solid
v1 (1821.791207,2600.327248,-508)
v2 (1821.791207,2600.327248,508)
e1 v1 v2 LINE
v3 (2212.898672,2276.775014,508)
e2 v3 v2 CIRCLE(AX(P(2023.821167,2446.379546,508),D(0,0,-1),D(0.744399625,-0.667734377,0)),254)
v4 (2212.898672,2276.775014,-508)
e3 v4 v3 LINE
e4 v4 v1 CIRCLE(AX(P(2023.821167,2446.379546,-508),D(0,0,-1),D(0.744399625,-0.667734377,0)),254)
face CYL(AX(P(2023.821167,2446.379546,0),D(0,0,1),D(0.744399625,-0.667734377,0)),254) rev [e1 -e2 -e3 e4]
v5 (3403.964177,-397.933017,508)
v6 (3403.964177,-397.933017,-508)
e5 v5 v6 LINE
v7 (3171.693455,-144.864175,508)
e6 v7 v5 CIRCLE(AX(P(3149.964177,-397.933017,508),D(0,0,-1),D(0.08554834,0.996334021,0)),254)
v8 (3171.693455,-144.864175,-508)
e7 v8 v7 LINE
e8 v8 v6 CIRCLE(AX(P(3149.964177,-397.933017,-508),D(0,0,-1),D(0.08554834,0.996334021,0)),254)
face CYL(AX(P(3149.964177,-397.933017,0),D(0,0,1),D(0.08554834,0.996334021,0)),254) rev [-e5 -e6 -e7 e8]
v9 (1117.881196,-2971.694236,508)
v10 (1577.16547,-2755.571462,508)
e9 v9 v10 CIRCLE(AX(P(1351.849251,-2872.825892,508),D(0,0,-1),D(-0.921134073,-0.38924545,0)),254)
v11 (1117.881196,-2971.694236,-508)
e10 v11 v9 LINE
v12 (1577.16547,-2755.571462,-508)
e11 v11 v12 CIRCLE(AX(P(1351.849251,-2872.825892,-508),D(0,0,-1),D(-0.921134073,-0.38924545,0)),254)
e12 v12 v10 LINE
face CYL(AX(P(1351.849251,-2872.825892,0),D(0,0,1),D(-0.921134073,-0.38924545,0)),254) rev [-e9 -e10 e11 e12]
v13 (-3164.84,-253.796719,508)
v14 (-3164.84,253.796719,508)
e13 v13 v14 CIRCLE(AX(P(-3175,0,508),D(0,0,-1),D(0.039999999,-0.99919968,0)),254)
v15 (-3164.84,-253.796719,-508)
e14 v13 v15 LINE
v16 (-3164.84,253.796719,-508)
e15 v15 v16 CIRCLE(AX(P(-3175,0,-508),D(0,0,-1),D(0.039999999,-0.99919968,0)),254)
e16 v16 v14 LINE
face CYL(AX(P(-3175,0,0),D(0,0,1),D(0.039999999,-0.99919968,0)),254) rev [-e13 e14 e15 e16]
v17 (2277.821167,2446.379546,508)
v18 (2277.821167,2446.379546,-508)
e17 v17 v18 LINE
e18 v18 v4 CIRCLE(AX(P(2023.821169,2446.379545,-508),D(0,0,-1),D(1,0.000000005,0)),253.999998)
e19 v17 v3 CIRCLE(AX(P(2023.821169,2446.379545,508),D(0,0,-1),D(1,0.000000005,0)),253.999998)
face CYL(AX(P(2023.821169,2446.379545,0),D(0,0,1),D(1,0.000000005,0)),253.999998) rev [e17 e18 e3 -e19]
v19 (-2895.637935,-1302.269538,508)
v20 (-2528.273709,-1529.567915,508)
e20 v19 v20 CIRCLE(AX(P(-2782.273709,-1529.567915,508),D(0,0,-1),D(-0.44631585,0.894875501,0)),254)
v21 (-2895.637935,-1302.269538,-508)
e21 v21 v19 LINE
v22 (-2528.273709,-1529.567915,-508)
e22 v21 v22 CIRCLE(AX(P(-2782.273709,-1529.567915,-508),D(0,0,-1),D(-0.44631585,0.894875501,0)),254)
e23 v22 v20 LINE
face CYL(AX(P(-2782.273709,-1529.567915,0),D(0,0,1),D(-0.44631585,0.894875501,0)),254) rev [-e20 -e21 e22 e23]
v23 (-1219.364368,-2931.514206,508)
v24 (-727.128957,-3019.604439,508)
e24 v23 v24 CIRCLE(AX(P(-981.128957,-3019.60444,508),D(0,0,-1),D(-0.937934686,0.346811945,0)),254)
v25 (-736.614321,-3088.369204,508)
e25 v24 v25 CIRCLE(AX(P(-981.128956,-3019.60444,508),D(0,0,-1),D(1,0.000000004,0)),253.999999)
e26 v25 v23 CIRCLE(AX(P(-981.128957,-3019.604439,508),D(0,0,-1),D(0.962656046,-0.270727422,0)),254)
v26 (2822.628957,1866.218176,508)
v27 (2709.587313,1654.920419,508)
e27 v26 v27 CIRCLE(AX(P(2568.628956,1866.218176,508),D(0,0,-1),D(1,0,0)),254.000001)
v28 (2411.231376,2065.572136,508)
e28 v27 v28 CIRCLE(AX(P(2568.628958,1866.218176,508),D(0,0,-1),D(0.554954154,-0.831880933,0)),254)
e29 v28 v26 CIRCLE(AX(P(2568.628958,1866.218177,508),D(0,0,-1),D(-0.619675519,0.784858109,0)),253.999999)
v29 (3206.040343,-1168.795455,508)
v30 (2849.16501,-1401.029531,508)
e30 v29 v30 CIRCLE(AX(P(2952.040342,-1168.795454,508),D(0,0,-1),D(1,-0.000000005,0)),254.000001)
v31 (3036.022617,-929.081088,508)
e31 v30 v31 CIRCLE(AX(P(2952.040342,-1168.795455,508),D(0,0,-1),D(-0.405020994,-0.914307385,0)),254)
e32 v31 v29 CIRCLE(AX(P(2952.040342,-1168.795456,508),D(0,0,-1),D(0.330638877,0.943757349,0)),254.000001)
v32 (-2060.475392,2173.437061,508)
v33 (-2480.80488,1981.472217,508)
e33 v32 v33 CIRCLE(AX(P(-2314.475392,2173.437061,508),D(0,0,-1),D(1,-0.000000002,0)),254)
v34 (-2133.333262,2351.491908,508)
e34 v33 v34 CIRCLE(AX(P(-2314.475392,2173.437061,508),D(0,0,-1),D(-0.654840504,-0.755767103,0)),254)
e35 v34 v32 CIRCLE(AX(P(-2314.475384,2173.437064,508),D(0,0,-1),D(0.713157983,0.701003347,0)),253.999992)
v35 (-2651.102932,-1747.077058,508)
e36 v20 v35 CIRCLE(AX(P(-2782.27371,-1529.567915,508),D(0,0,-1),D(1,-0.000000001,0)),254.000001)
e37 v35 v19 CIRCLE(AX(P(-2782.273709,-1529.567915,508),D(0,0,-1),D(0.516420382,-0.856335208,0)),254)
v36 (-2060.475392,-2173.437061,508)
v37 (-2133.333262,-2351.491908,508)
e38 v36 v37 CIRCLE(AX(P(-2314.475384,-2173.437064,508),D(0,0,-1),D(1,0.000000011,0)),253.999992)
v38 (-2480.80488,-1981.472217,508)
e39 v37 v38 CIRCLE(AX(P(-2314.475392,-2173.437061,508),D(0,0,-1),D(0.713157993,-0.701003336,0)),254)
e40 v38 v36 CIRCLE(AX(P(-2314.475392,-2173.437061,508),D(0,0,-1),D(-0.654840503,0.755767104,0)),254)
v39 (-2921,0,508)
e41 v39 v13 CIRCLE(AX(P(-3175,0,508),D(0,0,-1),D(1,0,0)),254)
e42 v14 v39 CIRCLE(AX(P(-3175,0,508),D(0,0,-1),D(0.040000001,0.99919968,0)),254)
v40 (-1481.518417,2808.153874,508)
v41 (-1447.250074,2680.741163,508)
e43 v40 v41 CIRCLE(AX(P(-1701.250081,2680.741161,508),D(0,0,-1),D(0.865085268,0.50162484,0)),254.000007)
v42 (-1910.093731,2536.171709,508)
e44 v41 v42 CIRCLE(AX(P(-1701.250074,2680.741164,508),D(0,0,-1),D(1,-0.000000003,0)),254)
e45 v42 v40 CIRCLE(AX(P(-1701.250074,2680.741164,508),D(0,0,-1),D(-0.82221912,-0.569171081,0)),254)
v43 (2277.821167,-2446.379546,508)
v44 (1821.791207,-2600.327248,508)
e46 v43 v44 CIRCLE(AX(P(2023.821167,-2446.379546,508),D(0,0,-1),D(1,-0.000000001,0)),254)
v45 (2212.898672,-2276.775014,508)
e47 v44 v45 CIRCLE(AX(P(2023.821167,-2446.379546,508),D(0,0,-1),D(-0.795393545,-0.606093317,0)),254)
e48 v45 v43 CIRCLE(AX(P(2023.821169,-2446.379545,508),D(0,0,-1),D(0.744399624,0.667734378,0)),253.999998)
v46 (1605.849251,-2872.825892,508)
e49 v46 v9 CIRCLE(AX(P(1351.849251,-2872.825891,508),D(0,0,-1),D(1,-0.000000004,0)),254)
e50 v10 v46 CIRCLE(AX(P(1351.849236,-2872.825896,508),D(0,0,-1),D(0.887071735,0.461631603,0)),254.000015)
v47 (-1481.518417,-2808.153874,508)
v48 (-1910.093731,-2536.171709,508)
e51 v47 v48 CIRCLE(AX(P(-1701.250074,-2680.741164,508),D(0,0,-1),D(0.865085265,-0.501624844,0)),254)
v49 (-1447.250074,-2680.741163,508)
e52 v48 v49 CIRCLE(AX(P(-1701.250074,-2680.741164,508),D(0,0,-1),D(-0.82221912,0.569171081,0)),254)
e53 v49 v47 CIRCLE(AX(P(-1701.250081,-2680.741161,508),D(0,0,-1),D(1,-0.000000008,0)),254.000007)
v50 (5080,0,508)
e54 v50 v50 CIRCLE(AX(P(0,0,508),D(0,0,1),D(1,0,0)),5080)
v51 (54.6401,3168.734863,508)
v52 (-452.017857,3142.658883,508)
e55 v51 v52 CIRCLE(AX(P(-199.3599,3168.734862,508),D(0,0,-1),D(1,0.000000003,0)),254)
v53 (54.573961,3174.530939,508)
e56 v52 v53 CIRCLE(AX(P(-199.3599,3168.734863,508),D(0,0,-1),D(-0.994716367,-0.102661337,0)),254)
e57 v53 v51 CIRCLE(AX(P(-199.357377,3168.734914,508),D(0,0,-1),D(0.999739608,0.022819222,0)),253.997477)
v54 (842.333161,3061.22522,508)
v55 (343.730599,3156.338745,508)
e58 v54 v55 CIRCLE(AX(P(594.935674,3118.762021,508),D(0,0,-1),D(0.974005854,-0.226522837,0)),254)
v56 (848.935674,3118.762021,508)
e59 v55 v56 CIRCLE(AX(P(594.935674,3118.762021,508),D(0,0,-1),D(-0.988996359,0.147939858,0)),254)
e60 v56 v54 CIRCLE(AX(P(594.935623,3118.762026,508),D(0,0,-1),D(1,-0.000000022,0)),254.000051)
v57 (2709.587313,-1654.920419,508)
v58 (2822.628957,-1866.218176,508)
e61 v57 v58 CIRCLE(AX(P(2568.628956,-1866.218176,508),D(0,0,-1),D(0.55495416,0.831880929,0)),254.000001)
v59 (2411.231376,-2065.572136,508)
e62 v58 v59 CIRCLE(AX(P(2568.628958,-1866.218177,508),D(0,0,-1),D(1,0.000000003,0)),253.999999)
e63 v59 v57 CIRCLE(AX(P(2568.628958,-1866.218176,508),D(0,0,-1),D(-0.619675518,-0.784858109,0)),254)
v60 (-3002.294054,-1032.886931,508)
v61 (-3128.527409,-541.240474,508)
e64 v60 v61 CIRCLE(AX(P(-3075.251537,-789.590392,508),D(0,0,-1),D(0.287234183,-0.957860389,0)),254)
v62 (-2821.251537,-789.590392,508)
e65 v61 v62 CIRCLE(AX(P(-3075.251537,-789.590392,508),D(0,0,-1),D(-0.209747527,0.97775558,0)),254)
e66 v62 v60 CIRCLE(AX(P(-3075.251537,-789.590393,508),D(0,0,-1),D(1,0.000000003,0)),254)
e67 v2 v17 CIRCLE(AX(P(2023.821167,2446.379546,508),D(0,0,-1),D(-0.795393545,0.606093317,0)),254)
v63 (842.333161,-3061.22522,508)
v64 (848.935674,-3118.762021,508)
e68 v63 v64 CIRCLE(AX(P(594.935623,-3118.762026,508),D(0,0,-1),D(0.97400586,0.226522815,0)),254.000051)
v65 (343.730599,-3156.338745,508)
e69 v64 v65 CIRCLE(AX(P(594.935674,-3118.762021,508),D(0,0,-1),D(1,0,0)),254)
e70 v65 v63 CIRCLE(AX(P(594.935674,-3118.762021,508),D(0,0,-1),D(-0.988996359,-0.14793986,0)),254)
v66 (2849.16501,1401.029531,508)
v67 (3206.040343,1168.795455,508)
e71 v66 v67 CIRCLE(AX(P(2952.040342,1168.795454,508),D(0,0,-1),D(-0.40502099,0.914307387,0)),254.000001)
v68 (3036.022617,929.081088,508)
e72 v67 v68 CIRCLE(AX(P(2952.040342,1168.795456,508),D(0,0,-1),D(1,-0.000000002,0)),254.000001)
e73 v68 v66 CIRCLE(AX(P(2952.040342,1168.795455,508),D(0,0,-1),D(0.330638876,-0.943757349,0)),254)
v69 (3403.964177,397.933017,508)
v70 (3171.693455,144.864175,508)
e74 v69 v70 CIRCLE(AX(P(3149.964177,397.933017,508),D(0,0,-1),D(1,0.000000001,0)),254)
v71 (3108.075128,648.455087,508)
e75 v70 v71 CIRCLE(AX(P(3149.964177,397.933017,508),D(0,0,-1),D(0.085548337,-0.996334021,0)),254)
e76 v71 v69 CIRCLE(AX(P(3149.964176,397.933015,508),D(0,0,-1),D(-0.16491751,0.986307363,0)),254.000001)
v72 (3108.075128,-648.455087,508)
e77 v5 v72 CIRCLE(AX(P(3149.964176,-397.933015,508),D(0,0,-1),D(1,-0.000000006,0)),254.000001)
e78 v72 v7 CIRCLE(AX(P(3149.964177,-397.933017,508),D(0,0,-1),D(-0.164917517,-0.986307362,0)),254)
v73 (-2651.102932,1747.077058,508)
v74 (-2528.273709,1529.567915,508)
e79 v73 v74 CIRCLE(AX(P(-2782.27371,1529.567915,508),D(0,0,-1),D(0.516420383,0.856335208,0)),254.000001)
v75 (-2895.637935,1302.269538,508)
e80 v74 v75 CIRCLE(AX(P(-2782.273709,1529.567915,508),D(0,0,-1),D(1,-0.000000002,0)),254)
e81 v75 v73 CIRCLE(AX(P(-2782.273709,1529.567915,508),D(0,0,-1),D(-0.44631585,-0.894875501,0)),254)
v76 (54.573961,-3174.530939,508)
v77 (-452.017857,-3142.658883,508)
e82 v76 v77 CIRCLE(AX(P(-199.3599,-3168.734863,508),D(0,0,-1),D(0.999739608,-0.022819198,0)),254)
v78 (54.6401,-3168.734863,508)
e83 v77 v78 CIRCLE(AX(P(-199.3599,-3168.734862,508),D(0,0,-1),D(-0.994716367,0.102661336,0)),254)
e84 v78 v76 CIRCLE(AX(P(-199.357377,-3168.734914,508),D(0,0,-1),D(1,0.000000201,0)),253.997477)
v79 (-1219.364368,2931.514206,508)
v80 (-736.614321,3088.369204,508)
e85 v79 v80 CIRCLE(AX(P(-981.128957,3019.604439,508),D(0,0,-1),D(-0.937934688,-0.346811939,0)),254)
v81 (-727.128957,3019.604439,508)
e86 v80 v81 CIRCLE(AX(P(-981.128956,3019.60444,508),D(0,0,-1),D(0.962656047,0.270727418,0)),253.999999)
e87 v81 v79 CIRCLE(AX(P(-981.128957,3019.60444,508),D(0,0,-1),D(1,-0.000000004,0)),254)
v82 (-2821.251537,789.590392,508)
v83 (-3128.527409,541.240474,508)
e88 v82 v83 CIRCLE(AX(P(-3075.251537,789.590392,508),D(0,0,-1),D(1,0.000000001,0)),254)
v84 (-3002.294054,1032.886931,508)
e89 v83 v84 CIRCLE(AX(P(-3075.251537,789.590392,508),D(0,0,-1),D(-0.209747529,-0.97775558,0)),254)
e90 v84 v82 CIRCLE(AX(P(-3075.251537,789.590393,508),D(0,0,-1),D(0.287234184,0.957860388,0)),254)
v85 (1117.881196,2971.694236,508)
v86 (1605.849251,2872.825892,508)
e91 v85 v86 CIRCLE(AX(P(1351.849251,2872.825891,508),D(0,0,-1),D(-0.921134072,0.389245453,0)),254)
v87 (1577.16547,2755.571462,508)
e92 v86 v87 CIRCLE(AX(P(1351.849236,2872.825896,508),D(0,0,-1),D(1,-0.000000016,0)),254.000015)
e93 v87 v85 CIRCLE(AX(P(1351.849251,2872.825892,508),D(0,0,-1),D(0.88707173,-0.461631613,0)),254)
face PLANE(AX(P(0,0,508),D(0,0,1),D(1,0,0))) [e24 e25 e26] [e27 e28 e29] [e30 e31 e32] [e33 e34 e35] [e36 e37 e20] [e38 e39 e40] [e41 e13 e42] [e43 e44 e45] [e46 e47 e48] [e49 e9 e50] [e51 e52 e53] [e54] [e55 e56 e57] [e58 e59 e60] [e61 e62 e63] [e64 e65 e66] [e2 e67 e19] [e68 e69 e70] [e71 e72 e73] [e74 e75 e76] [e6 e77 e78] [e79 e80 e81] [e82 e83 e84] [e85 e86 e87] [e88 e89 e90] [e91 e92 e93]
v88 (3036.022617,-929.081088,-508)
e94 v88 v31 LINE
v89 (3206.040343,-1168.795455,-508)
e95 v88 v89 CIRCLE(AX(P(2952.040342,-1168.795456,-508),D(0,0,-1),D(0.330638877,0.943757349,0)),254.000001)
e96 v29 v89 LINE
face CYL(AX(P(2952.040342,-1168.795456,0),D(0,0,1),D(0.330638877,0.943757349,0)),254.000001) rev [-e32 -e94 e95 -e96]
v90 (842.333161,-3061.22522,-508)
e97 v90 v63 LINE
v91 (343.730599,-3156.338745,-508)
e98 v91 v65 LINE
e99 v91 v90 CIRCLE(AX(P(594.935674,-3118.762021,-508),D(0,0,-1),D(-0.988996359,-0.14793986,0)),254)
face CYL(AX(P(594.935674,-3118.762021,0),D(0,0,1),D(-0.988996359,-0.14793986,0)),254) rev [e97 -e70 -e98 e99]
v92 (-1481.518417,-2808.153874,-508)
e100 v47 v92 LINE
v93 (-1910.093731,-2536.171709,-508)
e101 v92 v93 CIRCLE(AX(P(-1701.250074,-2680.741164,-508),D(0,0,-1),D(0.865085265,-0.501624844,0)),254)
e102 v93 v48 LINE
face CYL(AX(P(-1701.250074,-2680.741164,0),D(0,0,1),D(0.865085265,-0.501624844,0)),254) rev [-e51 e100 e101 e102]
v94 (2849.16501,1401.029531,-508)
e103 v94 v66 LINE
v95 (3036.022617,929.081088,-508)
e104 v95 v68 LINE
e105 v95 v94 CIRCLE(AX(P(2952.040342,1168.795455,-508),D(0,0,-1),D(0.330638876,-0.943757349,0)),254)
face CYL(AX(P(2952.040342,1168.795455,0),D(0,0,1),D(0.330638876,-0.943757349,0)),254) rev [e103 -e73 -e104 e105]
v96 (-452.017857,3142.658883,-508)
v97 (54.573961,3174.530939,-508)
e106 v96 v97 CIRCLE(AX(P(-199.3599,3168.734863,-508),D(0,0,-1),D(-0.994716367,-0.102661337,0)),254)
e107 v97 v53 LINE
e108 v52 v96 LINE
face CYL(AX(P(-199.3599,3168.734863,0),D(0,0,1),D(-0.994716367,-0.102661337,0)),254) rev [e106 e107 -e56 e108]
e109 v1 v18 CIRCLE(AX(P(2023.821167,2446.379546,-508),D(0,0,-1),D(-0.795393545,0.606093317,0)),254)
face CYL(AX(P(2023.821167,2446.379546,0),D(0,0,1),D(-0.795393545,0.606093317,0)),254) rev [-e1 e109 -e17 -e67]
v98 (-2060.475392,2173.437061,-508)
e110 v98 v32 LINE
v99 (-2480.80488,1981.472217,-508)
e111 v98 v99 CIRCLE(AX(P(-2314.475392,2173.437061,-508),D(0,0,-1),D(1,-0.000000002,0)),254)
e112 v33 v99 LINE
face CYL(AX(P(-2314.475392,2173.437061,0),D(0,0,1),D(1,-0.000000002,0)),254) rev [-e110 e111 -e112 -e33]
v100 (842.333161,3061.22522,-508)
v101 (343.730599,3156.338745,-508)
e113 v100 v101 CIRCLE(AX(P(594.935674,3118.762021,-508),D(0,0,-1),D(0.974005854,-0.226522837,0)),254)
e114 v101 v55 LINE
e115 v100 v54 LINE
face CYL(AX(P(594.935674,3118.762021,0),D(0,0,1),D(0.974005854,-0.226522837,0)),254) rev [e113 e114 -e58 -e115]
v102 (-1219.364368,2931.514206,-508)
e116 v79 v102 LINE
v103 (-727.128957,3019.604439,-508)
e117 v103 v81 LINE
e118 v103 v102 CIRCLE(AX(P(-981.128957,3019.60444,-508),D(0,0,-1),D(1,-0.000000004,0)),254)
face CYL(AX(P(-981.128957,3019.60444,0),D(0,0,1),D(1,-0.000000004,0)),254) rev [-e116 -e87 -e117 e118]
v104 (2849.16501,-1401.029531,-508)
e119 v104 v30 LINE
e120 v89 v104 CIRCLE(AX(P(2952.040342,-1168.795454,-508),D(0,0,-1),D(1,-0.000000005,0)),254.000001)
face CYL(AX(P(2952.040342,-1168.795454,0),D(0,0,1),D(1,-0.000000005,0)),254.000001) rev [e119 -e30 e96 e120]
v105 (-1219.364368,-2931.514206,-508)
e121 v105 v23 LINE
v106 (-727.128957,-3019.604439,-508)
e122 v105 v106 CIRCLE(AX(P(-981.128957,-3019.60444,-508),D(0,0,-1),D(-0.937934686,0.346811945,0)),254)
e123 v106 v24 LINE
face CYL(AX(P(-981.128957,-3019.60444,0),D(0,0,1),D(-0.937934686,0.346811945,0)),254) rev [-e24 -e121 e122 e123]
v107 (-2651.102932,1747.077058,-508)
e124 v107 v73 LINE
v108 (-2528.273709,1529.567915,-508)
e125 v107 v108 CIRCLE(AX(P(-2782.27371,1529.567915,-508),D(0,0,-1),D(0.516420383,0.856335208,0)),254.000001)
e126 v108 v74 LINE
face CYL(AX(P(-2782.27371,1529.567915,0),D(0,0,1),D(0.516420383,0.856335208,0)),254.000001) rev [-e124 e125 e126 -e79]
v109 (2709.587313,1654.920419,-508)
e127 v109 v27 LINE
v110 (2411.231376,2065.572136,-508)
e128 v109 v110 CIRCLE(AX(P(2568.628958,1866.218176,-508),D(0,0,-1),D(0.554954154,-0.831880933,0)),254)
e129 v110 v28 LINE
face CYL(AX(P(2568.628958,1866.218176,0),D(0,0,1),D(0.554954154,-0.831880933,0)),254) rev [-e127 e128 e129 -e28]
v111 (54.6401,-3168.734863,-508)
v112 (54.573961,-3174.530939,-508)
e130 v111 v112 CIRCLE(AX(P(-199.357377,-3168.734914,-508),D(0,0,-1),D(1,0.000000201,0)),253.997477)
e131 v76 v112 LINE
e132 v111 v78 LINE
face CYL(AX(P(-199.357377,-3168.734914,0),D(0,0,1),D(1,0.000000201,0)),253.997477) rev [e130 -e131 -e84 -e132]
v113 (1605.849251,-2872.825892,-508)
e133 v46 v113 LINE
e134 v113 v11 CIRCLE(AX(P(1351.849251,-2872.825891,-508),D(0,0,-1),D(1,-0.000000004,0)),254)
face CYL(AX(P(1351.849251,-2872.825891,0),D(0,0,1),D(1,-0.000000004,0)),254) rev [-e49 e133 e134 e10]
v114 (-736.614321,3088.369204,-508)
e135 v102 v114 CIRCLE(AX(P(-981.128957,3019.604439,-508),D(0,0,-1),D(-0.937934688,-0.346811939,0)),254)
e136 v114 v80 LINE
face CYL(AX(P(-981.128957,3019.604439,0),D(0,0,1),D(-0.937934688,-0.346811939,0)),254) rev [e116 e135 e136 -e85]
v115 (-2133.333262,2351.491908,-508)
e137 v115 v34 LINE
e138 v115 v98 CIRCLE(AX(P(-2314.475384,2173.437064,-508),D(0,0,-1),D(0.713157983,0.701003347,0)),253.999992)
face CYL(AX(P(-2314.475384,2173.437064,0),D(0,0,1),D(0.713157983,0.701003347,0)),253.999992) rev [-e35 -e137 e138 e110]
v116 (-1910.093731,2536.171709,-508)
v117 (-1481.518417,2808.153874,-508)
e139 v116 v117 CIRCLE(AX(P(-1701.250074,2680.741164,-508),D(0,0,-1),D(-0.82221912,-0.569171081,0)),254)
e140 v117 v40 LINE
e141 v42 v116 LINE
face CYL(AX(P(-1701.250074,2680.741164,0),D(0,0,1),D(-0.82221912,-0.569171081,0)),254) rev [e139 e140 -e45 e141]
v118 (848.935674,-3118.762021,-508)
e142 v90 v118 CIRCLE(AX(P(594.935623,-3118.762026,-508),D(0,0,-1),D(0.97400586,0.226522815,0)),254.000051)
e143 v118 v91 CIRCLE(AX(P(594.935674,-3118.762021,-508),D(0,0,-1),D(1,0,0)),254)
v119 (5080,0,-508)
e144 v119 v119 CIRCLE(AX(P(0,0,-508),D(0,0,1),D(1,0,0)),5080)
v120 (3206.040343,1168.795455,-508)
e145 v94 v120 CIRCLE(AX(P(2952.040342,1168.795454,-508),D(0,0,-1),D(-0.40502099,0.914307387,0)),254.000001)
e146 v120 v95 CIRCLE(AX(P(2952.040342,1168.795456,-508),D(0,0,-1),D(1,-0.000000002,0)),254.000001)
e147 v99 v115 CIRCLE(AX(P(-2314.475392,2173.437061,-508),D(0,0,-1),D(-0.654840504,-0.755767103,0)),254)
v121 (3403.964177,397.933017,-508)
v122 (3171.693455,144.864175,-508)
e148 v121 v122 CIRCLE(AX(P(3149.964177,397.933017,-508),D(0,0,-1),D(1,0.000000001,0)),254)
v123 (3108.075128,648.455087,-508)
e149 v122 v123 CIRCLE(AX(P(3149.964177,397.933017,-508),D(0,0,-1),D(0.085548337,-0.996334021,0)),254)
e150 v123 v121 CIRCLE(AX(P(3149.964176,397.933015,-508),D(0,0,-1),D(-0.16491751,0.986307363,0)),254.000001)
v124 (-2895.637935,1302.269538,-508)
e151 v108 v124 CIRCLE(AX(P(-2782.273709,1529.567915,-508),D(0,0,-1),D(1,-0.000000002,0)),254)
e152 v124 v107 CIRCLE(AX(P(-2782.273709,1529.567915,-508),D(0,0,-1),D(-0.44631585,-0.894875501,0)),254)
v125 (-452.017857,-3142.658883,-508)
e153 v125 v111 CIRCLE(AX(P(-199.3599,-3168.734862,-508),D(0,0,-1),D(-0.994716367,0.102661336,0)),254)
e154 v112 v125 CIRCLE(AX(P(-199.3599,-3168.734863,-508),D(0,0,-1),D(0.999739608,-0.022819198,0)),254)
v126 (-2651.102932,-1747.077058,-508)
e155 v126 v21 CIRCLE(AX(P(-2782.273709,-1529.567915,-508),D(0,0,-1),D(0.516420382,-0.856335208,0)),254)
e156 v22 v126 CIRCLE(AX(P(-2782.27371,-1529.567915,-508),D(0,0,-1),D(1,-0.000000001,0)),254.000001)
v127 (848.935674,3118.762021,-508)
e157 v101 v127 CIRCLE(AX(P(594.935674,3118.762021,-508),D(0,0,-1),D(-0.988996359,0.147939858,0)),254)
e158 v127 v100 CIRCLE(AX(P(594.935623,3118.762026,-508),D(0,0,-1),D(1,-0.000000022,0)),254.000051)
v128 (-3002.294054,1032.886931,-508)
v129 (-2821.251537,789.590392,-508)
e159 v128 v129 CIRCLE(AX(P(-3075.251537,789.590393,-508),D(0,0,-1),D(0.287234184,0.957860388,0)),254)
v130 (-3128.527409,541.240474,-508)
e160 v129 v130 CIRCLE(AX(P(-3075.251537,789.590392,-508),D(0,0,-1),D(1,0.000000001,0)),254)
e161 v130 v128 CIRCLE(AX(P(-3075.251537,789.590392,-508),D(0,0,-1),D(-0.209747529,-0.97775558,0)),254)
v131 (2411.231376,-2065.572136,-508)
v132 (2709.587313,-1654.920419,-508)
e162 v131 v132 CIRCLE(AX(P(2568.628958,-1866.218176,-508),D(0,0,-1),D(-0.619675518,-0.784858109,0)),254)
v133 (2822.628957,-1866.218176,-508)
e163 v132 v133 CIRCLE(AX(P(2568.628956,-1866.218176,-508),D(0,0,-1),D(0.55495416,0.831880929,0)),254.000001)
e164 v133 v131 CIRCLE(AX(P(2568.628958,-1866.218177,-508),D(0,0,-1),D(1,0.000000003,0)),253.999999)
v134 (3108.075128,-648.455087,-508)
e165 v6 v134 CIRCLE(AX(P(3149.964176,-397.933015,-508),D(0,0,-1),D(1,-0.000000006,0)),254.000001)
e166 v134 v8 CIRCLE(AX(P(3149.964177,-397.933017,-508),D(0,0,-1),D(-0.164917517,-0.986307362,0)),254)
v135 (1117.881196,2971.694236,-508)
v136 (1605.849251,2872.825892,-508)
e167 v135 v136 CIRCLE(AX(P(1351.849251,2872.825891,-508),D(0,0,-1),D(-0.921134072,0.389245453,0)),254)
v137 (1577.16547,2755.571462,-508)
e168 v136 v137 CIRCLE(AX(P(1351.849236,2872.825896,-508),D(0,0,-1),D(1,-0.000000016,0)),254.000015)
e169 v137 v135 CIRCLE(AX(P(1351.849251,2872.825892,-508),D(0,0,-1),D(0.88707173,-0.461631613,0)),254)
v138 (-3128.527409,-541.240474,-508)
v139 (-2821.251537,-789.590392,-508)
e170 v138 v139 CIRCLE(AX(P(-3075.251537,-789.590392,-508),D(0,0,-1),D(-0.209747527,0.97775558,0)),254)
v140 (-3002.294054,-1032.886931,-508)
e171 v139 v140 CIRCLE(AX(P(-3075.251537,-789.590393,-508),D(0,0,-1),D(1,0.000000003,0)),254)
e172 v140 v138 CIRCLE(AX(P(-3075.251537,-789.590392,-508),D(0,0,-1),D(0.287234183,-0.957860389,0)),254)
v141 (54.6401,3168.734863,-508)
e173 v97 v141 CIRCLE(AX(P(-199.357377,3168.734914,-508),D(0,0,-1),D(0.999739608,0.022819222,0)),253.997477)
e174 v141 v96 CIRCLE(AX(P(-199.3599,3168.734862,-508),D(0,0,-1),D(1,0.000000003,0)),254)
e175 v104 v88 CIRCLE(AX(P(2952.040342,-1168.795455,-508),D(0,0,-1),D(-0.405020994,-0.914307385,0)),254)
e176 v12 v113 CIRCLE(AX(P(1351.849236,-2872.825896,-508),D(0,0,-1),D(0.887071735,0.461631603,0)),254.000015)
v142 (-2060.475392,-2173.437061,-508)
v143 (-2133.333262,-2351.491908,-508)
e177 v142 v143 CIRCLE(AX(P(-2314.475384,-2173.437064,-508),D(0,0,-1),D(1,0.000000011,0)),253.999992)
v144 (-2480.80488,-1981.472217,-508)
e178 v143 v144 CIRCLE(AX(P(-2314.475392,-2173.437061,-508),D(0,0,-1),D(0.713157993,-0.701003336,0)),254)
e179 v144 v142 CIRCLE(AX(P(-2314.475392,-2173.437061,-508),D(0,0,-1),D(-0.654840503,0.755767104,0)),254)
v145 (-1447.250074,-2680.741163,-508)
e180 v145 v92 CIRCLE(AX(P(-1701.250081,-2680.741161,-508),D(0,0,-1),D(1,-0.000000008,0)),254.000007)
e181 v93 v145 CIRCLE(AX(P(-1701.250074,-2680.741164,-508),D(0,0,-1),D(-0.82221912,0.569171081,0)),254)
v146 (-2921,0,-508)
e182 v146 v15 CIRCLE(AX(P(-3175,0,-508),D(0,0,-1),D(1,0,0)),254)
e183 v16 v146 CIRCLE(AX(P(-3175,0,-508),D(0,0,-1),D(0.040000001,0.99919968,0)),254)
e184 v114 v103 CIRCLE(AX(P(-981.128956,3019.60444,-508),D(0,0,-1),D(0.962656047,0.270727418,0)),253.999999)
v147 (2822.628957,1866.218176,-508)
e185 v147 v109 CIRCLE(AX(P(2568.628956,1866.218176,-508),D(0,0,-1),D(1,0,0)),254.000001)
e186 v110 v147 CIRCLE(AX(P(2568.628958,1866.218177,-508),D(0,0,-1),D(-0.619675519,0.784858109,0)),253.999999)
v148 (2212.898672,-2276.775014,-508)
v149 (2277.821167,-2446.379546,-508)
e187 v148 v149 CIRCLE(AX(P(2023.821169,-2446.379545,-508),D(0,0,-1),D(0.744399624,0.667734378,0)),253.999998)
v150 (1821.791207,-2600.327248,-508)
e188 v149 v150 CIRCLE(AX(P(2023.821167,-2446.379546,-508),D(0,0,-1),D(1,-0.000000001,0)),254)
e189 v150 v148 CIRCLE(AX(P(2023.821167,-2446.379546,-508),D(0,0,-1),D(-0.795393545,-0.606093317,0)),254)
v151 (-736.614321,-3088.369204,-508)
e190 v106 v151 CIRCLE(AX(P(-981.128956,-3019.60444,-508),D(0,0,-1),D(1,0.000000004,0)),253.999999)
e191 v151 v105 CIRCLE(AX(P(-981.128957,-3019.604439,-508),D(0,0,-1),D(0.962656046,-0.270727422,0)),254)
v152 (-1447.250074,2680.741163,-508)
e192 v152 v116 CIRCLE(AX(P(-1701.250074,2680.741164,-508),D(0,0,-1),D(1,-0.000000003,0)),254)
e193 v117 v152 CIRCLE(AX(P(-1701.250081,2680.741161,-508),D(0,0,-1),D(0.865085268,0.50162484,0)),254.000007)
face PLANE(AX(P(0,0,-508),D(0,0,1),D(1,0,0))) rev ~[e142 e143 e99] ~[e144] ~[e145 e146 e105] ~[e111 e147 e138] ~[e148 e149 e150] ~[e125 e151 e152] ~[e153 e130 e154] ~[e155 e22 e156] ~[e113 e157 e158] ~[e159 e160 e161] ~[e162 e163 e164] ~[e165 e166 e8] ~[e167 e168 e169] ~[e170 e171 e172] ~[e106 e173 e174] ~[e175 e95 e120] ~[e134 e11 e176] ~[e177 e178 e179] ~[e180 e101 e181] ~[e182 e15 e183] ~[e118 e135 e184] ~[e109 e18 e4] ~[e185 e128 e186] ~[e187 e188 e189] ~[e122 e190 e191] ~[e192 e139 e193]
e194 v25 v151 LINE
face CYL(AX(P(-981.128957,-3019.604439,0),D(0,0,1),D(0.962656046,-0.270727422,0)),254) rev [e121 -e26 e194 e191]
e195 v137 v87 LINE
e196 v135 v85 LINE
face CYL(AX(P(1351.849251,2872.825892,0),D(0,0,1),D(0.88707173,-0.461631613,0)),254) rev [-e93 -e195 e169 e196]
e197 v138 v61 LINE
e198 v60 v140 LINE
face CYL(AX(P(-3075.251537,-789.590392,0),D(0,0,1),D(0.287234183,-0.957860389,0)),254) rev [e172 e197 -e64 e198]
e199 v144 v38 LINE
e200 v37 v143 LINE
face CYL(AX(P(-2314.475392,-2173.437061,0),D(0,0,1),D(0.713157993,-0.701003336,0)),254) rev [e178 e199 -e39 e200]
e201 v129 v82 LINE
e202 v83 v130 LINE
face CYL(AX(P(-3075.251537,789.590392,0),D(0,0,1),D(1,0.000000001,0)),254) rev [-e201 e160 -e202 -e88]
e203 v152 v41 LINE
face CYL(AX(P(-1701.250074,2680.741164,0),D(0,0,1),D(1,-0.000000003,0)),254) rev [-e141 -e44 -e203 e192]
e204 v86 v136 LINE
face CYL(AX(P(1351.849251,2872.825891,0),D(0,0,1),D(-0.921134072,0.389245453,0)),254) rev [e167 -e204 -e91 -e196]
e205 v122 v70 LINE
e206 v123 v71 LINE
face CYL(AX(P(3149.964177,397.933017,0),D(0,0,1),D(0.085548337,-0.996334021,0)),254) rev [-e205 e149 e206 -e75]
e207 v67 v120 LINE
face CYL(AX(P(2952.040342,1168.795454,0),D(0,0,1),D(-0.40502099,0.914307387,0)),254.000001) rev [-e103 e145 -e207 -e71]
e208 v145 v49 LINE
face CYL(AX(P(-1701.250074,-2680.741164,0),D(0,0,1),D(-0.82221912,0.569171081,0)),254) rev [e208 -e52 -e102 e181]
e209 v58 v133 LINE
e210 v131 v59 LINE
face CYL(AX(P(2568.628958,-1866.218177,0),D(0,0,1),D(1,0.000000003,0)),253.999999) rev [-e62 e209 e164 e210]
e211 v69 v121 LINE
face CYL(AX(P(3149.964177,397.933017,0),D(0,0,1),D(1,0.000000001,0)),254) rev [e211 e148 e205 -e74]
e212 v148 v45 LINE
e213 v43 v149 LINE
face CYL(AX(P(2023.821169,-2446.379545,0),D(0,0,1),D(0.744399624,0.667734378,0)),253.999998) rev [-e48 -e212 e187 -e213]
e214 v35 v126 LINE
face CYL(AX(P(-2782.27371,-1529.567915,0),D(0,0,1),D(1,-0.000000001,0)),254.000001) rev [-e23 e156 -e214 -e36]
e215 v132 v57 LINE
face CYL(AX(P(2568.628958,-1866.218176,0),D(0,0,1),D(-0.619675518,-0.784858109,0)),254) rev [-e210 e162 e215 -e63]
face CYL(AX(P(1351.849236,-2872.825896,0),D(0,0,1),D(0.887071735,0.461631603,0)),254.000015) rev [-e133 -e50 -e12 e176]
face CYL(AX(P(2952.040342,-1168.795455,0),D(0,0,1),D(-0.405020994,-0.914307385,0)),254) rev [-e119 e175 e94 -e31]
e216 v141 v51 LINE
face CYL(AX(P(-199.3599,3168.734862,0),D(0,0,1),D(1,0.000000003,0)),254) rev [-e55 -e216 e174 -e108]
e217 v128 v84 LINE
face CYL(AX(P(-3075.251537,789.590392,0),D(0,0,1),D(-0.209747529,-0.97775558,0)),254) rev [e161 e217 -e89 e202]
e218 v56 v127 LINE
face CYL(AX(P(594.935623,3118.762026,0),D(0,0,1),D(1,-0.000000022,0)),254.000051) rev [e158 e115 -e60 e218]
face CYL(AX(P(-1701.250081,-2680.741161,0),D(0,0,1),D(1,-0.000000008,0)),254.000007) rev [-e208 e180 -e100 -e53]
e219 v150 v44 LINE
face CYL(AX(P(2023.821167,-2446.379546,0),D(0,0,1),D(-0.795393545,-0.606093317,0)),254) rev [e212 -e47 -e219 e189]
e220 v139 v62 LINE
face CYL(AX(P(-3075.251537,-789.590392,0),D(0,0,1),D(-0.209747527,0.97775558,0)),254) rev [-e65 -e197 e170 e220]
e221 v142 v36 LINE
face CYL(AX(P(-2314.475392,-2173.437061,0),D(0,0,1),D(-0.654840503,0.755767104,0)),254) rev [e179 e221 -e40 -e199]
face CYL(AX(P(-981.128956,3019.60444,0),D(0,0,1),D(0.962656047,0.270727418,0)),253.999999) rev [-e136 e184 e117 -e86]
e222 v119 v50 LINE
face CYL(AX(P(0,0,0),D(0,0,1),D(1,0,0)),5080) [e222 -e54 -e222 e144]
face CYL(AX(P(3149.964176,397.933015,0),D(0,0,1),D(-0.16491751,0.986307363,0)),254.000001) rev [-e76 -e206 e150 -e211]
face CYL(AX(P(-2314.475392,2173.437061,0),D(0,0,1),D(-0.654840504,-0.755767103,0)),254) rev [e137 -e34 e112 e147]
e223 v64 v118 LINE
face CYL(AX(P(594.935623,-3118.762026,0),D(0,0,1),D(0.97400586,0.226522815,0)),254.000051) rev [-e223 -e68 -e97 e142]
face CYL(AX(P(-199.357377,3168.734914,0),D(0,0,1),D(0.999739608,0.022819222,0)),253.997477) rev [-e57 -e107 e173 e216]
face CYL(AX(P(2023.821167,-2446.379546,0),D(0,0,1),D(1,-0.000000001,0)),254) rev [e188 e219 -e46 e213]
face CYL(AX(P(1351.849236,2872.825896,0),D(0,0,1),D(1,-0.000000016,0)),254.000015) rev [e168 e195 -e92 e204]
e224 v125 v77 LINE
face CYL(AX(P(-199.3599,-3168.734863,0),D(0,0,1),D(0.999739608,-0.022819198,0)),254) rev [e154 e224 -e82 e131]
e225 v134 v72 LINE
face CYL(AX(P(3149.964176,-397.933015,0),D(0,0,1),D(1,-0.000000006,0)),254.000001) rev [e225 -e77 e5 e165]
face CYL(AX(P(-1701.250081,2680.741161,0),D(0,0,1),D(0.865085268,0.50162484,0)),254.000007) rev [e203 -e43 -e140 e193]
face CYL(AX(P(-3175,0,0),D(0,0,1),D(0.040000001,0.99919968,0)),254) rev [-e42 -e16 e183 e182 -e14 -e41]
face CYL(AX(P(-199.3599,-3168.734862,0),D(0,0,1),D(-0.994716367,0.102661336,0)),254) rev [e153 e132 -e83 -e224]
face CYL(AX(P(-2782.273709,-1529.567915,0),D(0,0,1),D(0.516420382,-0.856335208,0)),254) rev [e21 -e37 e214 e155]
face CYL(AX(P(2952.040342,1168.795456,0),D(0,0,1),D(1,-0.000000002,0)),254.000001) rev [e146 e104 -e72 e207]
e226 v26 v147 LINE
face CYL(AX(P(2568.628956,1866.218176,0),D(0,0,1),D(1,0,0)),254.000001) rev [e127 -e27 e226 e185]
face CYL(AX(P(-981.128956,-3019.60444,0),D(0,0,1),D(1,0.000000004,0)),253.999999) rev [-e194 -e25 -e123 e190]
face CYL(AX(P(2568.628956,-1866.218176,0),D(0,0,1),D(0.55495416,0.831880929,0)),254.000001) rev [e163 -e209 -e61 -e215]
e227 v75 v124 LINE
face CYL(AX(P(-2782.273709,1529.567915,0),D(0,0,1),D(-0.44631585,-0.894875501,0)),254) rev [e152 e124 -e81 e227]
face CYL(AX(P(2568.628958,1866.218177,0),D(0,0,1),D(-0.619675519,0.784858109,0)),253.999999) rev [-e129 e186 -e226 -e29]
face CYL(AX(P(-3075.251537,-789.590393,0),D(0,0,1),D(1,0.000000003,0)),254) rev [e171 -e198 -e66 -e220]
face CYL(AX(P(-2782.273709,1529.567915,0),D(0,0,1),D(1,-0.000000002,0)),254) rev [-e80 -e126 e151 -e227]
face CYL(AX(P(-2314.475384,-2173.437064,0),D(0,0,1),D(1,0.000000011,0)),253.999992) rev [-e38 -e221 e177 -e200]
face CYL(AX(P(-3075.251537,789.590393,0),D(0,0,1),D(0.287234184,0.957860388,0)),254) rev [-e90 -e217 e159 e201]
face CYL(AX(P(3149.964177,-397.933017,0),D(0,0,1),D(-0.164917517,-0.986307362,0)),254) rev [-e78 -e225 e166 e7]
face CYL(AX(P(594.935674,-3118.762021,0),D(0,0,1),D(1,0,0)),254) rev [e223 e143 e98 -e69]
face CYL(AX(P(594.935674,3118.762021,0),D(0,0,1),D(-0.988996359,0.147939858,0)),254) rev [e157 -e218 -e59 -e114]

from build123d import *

# Parameters (mm, degrees)
F0_R     = 5080
F1_DEPTH = 508


with BuildPart() as f1:
    # F0 (on Top) → F1 (new body, symmetric)
    with BuildSketch(Plane.XY):
        Circle(F0_R)
        with BuildLine():
            ThreePointArc((3171.693455, 144.864175), (3174.173256, 72.450953), (3175, 0))
            ThreePointArc((3175, 0), (3174.173256, -72.450953), (3171.693455, -144.864175))
            ThreePointArc((3171.693455, -144.864175), (3337.094127, -226.182087), (3403.964177, -397.933017))
            ThreePointArc((3403.964177, -397.933017), (3314.092452, -591.78324), (3108.075128, -648.455087))
            ThreePointArc((3108.075128, -648.455087), (3075.251537, -789.590392), (3036.022617, -929.081088))
            ThreePointArc((3036.022617, -929.081088), (3159.220817, -1021.852435), (3206.040343, -1168.795455))
            ThreePointArc((3206.040343, -1168.795455), (3090.578542, -1381.687839), (2849.16501, -1401.029531))
            ThreePointArc((2849.16501, -1401.029531), (2782.273709, -1529.567915), (2709.587313, -1654.920419))
            ThreePointArc((2709.587313, -1654.920419), (2792.592595, -1746.400444), (2822.628957, -1866.218176))
            ThreePointArc((2822.628957, -1866.218176), (2679.392251, -2094.795281), (2411.231376, -2065.572136))
            ThreePointArc((2411.231376, -2065.572136), (2314.475392, -2173.437061), (2212.898672, -2276.775014))
            ThreePointArc((2212.898672, -2276.775014), (2261.035929, -2355.5767), (2277.821167, -2446.379546))
            ThreePointArc((2277.821167, -2446.379546), (2105.062752, -2687.036573), (1821.791207, -2600.327248))
            ThreePointArc((1821.791207, -2600.327248), (1701.250074, -2680.741163), (1577.16547, -2755.571462))
            ThreePointArc((1577.16547, -2755.571462), (1598.574117, -2812.469946), (1605.849251, -2872.825892))
            ThreePointArc((1605.849251, -2872.825892), (1402.287897, -3121.767537), (1117.881196, -2971.694236))
            ThreePointArc((1117.881196, -2971.694236), (981.128957, -3019.604439), (842.333161, -3061.22522))
            ThreePointArc((842.333161, -3061.22522), (847.279647, -3089.804826), (848.935674, -3118.762021))
            ThreePointArc((848.935674, -3118.762021), (613.775935, -3372.062326), (343.730599, -3156.338745))
            ThreePointArc((343.730599, -3156.338745), (199.3599, -3168.734863), (54.573961, -3174.530939))
            ThreePointArc((54.573961, -3174.530939), (-215.308691, -3422.233652), (-452.017857, -3142.658883))
            ThreePointArc((-452.017857, -3142.658883), (-594.935674, -3118.762021), (-736.614321, -3088.369204))
            ThreePointArc((-736.614321, -3088.369204), (-1059.619274, -3261.172794), (-1219.364368, -2931.514206))
            ThreePointArc((-1219.364368, -2931.514206), (-1351.849251, -2872.825892), (-1481.518417, -2808.153874))
            ThreePointArc((-1481.518417, -2808.153874), (-1837.35008, -2895.200457), (-1910.093731, -2536.171709))
            ThreePointArc((-1910.093731, -2536.171709), (-2023.821167, -2446.379546), (-2133.333262, -2351.491908))
            ThreePointArc((-2133.333262, -2351.491908), (-2499.633423, -2347.312026), (-2480.80488, -1981.472217))
            ThreePointArc((-2480.80488, -1981.472217), (-2568.628957, -1866.218176), (-2651.102932, -1747.077058))
            ThreePointArc((-2651.102932, -1747.077058), (-3004.855606, -1651.933348), (-2895.637935, -1302.269538))
            ThreePointArc((-2895.637935, -1302.269538), (-2952.040343, -1168.795455), (-3002.294054, -1032.886931))
            ThreePointArc((-3002.294054, -1032.886931), (-3321.27166, -852.757623), (-3128.527409, -541.240474))
            ThreePointArc((-3128.527409, -541.240474), (-3149.964177, -397.933017), (-3164.84, -253.796719))
            ThreePointArc((-3164.84, -253.796719), (-3429, 0), (-3164.84, 253.796719))
            ThreePointArc((-3164.84, 253.796719), (-3149.964177, 397.933017), (-3128.527409, 541.240474))
            ThreePointArc((-3128.527409, 541.240474), (-3321.27166, 852.757623), (-3002.294054, 1032.886931))
            ThreePointArc((-3002.294054, 1032.886931), (-2952.040343, 1168.795455), (-2895.637935, 1302.269538))
            ThreePointArc((-2895.637935, 1302.269538), (-3004.855606, 1651.933348), (-2651.102932, 1747.077058))
            ThreePointArc((-2651.102932, 1747.077058), (-2568.628957, 1866.218176), (-2480.80488, 1981.472217))
            ThreePointArc((-2480.80488, 1981.472217), (-2499.633423, 2347.312026), (-2133.333262, 2351.491908))
            ThreePointArc((-2133.333262, 2351.491908), (-2023.821167, 2446.379546), (-1910.093731, 2536.171709))
            ThreePointArc((-1910.093731, 2536.171709), (-1837.35008, 2895.200457), (-1481.518417, 2808.153874))
            ThreePointArc((-1481.518417, 2808.153874), (-1351.849251, 2872.825892), (-1219.364368, 2931.514206))
            ThreePointArc((-1219.364368, 2931.514206), (-1059.619274, 3261.172794), (-736.614321, 3088.369204))
            ThreePointArc((-736.614321, 3088.369204), (-594.935674, 3118.762021), (-452.017857, 3142.658883))
            ThreePointArc((-452.017857, 3142.658883), (-215.308691, 3422.233652), (54.573961, 3174.530939))
            ThreePointArc((54.573961, 3174.530939), (199.3599, 3168.734863), (343.730599, 3156.338745))
            ThreePointArc((343.730599, 3156.338745), (613.775935, 3372.062326), (848.935674, 3118.762021))
            ThreePointArc((848.935674, 3118.762021), (847.279647, 3089.804826), (842.333161, 3061.22522))
            ThreePointArc((842.333161, 3061.22522), (981.128957, 3019.604439), (1117.881196, 2971.694236))
            ThreePointArc((1117.881196, 2971.694236), (1402.287897, 3121.767537), (1605.849251, 2872.825892))
            ThreePointArc((1605.849251, 2872.825892), (1598.574117, 2812.469946), (1577.16547, 2755.571462))
            ThreePointArc((1577.16547, 2755.571462), (1701.250074, 2680.741163), (1821.791207, 2600.327248))
            ThreePointArc((1821.791207, 2600.327248), (2105.062752, 2687.036573), (2277.821167, 2446.379546))
            ThreePointArc((2277.821167, 2446.379546), (2261.035929, 2355.5767), (2212.898672, 2276.775014))
            ThreePointArc((2212.898672, 2276.775014), (2314.475392, 2173.437061), (2411.231376, 2065.572136))
            ThreePointArc((2411.231376, 2065.572136), (2679.392251, 2094.795281), (2822.628957, 1866.218176))
            ThreePointArc((2822.628957, 1866.218176), (2792.592595, 1746.400444), (2709.587313, 1654.920419))
            ThreePointArc((2709.587313, 1654.920419), (2782.273709, 1529.567915), (2849.16501, 1401.029531))
            ThreePointArc((2849.16501, 1401.029531), (3090.578542, 1381.687839), (3206.040343, 1168.795455))
            ThreePointArc((3206.040343, 1168.795455), (3159.220817, 1021.852435), (3036.022617, 929.081088))
            ThreePointArc((3036.022617, 929.081088), (3075.251537, 789.590392), (3108.075128, 648.455087))
            ThreePointArc((3108.075128, 648.455087), (3314.092452, 591.78324), (3403.964177, 397.933017))
            ThreePointArc((3403.964177, 397.933017), (3337.094127, 226.182087), (3171.693455, 144.864175))
        make_face(mode=Mode.SUBTRACT)
        with BuildLine():
            ThreePointArc((3171.693455, -144.864175), (3174.173256, -72.450953), (3175, 0))
            ThreePointArc((3175, 0), (3174.173256, 72.450953), (3171.693455, 144.864175))
            ThreePointArc((3171.693455, 144.864175), (2897.967043, 366.098375), (3108.075128, 648.455087))
            ThreePointArc((3108.075128, 648.455087), (3075.251537, 789.590392), (3036.022617, 929.081088))
            ThreePointArc((3036.022617, 929.081088), (2715.877115, 1075.291818), (2849.16501, 1401.029531))
            ThreePointArc((2849.16501, 1401.029531), (2782.273709, 1529.567915), (2709.587313, 1654.920419))
            ThreePointArc((2709.587313, 1654.920419), (2363.138641, 1716.920722), (2411.231376, 2065.572136))
            ThreePointArc((2411.231376, 2065.572136), (2314.475392, 2173.437061), (2212.898672, 2276.775014))
            ThreePointArc((2212.898672, 2276.775014), (1861.915474, 2250.669182), (1821.791207, 2600.327248))
            ThreePointArc((1821.791207, 2600.327248), (1701.250074, 2680.741163), (1577.16547, 2755.571462))
            ThreePointArc((1577.16547, 2755.571462), (1243.701311, 2642.99982), (1117.881196, 2971.694236))
            ThreePointArc((1117.881196, 2971.694236), (981.128957, 3019.604439), (842.333161, 3061.22522))
            ThreePointArc((842.333161, 3061.22522), (547.34082, 2869.261059), (343.730599, 3156.338745))
            ThreePointArc((343.730599, 3156.338745), (199.3599, 3168.734863), (54.573961, 3174.530939))
            ThreePointArc((54.573961, 3174.530939), (54.623565, 3171.63309), (54.6401, 3168.734863))
            ThreePointArc((54.6401, 3168.734863), (-186.304654, 2915.070595), (-452.017857, 3142.658883))
            ThreePointArc((-452.017857, 3142.658883), (-594.935674, 3118.762021), (-736.614321, 3088.369204))
            ThreePointArc((-736.614321, 3088.369204), (-729.511472, 3054.312382), (-727.128957, 3019.604439))
            ThreePointArc((-727.128957, 3019.604439), (-936.384093, 2769.576647), (-1219.364368, 2931.514206))
            ThreePointArc((-1219.364368, 2931.514206), (-1351.849251, 2872.825892), (-1481.518417, 2808.153874))
            ThreePointArc((-1481.518417, 2808.153874), (-1455.966727, 2746.711456), (-1447.250074, 2680.741163))
            ThreePointArc((-1447.250074, 2680.741163), (-1625.521245, 2438.292933), (-1910.093731, 2536.171709))
            ThreePointArc((-1910.093731, 2536.171709), (-2023.821167, 2446.379546), (-2133.333262, 2351.491908))
            ThreePointArc((-2133.333262, 2351.491908), (-2079.394447, 2269.629314), (-2060.475392, 2173.437061))
            ThreePointArc((-2060.475392, 2173.437061), (-2208.956886, 1942.391947), (-2480.80488, 1981.472217))
            ThreePointArc((-2480.80488, 1981.472217), (-2568.628957, 1866.218176), (-2651.102932, 1747.077058))
            ThreePointArc((-2651.102932, 1747.077058), (-2561.102534, 1654.465118), (-2528.273709, 1529.567915))
            ThreePointArc((-2528.273709, 1529.567915), (-2648.629617, 1313.569636), (-2895.637935, 1302.269538))
            ThreePointArc((-2895.637935, 1302.269538), (-2952.040343, 1168.795455), (-3002.294054, 1032.886931))
            ThreePointArc((-3002.294054, 1032.886931), (-2871.478132, 941.222841), (-2821.251537, 789.590392))
            ThreePointArc((-2821.251537, 789.590392), (-2915.589505, 592.04537), (-3128.527409, 541.240474))
            ThreePointArc((-3128.527409, 541.240474), (-3149.964177, 397.933017), (-3164.84, 253.796719))
            ThreePointArc((-3164.84, 253.796719), (-2991.837995, 175.976362), (-2921, 0))
            ThreePointArc((-2921, 0), (-2991.837995, -175.976362), (-3164.84, -253.796719))
            ThreePointArc((-3164.84, -253.796719), (-3149.964177, -397.933017), (-3128.527409, -541.240474))
            ThreePointArc((-3128.527409, -541.240474), (-2915.589505, -592.04537), (-2821.251537, -789.590392))
            ThreePointArc((-2821.251537, -789.590392), (-2871.478132, -941.222841), (-3002.294054, -1032.886931))
            ThreePointArc((-3002.294054, -1032.886931), (-2952.040343, -1168.795455), (-2895.637935, -1302.269538))
            ThreePointArc((-2895.637935, -1302.269538), (-2648.629617, -1313.569636), (-2528.273709, -1529.567915))
            ThreePointArc((-2528.273709, -1529.567915), (-2561.102534, -1654.465118), (-2651.102932, -1747.077058))
            ThreePointArc((-2651.102932, -1747.077058), (-2568.628957, -1866.218176), (-2480.80488, -1981.472217))
            ThreePointArc((-2480.80488, -1981.472217), (-2208.956886, -1942.391947), (-2060.475392, -2173.437061))
            ThreePointArc((-2060.475392, -2173.437061), (-2079.394447, -2269.629314), (-2133.333262, -2351.491908))
            ThreePointArc((-2133.333262, -2351.491908), (-2023.821167, -2446.379546), (-1910.093731, -2536.171709))
            ThreePointArc((-1910.093731, -2536.171709), (-1625.521245, -2438.292933), (-1447.250074, -2680.741163))
            ThreePointArc((-1447.250074, -2680.741163), (-1455.966727, -2746.711456), (-1481.518417, -2808.153874))
            ThreePointArc((-1481.518417, -2808.153874), (-1351.849251, -2872.825892), (-1219.364368, -2931.514206))
            ThreePointArc((-1219.364368, -2931.514206), (-936.384093, -2769.576647), (-727.128957, -3019.604439))
            ThreePointArc((-727.128957, -3019.604439), (-729.511472, -3054.312382), (-736.614321, -3088.369204))
            ThreePointArc((-736.614321, -3088.369204), (-594.935674, -3118.762021), (-452.017857, -3142.658883))
            ThreePointArc((-452.017857, -3142.658883), (-186.304654, -2915.070595), (54.6401, -3168.734863))
            ThreePointArc((54.6401, -3168.734863), (54.623565, -3171.63309), (54.573961, -3174.530939))
            ThreePointArc((54.573961, -3174.530939), (199.3599, -3168.734863), (343.730599, -3156.338745))
            ThreePointArc((343.730599, -3156.338745), (547.34082, -2869.261059), (842.333161, -3061.22522))
            ThreePointArc((842.333161, -3061.22522), (981.128957, -3019.604439), (1117.881196, -2971.694236))
            ThreePointArc((1117.881196, -2971.694236), (1243.701311, -2642.99982), (1577.16547, -2755.571462))
            ThreePointArc((1577.16547, -2755.571462), (1701.250074, -2680.741163), (1821.791207, -2600.327248))
            ThreePointArc((1821.791207, -2600.327248), (1861.915474, -2250.669182), (2212.898672, -2276.775014))
            ThreePointArc((2212.898672, -2276.775014), (2314.475392, -2173.437061), (2411.231376, -2065.572136))
            ThreePointArc((2411.231376, -2065.572136), (2363.138641, -1716.920722), (2709.587313, -1654.920419))
            ThreePointArc((2709.587313, -1654.920419), (2782.273709, -1529.567915), (2849.16501, -1401.029531))
            ThreePointArc((2849.16501, -1401.029531), (2715.877115, -1075.291818), (3036.022617, -929.081088))
            ThreePointArc((3036.022617, -929.081088), (3075.251537, -789.590392), (3108.075128, -648.455087))
            ThreePointArc((3108.075128, -648.455087), (2897.967043, -366.098375), (3171.693455, -144.864175))
        make_face()
    extrude(amount=F1_DEPTH, both=True)


solid = f1.part
